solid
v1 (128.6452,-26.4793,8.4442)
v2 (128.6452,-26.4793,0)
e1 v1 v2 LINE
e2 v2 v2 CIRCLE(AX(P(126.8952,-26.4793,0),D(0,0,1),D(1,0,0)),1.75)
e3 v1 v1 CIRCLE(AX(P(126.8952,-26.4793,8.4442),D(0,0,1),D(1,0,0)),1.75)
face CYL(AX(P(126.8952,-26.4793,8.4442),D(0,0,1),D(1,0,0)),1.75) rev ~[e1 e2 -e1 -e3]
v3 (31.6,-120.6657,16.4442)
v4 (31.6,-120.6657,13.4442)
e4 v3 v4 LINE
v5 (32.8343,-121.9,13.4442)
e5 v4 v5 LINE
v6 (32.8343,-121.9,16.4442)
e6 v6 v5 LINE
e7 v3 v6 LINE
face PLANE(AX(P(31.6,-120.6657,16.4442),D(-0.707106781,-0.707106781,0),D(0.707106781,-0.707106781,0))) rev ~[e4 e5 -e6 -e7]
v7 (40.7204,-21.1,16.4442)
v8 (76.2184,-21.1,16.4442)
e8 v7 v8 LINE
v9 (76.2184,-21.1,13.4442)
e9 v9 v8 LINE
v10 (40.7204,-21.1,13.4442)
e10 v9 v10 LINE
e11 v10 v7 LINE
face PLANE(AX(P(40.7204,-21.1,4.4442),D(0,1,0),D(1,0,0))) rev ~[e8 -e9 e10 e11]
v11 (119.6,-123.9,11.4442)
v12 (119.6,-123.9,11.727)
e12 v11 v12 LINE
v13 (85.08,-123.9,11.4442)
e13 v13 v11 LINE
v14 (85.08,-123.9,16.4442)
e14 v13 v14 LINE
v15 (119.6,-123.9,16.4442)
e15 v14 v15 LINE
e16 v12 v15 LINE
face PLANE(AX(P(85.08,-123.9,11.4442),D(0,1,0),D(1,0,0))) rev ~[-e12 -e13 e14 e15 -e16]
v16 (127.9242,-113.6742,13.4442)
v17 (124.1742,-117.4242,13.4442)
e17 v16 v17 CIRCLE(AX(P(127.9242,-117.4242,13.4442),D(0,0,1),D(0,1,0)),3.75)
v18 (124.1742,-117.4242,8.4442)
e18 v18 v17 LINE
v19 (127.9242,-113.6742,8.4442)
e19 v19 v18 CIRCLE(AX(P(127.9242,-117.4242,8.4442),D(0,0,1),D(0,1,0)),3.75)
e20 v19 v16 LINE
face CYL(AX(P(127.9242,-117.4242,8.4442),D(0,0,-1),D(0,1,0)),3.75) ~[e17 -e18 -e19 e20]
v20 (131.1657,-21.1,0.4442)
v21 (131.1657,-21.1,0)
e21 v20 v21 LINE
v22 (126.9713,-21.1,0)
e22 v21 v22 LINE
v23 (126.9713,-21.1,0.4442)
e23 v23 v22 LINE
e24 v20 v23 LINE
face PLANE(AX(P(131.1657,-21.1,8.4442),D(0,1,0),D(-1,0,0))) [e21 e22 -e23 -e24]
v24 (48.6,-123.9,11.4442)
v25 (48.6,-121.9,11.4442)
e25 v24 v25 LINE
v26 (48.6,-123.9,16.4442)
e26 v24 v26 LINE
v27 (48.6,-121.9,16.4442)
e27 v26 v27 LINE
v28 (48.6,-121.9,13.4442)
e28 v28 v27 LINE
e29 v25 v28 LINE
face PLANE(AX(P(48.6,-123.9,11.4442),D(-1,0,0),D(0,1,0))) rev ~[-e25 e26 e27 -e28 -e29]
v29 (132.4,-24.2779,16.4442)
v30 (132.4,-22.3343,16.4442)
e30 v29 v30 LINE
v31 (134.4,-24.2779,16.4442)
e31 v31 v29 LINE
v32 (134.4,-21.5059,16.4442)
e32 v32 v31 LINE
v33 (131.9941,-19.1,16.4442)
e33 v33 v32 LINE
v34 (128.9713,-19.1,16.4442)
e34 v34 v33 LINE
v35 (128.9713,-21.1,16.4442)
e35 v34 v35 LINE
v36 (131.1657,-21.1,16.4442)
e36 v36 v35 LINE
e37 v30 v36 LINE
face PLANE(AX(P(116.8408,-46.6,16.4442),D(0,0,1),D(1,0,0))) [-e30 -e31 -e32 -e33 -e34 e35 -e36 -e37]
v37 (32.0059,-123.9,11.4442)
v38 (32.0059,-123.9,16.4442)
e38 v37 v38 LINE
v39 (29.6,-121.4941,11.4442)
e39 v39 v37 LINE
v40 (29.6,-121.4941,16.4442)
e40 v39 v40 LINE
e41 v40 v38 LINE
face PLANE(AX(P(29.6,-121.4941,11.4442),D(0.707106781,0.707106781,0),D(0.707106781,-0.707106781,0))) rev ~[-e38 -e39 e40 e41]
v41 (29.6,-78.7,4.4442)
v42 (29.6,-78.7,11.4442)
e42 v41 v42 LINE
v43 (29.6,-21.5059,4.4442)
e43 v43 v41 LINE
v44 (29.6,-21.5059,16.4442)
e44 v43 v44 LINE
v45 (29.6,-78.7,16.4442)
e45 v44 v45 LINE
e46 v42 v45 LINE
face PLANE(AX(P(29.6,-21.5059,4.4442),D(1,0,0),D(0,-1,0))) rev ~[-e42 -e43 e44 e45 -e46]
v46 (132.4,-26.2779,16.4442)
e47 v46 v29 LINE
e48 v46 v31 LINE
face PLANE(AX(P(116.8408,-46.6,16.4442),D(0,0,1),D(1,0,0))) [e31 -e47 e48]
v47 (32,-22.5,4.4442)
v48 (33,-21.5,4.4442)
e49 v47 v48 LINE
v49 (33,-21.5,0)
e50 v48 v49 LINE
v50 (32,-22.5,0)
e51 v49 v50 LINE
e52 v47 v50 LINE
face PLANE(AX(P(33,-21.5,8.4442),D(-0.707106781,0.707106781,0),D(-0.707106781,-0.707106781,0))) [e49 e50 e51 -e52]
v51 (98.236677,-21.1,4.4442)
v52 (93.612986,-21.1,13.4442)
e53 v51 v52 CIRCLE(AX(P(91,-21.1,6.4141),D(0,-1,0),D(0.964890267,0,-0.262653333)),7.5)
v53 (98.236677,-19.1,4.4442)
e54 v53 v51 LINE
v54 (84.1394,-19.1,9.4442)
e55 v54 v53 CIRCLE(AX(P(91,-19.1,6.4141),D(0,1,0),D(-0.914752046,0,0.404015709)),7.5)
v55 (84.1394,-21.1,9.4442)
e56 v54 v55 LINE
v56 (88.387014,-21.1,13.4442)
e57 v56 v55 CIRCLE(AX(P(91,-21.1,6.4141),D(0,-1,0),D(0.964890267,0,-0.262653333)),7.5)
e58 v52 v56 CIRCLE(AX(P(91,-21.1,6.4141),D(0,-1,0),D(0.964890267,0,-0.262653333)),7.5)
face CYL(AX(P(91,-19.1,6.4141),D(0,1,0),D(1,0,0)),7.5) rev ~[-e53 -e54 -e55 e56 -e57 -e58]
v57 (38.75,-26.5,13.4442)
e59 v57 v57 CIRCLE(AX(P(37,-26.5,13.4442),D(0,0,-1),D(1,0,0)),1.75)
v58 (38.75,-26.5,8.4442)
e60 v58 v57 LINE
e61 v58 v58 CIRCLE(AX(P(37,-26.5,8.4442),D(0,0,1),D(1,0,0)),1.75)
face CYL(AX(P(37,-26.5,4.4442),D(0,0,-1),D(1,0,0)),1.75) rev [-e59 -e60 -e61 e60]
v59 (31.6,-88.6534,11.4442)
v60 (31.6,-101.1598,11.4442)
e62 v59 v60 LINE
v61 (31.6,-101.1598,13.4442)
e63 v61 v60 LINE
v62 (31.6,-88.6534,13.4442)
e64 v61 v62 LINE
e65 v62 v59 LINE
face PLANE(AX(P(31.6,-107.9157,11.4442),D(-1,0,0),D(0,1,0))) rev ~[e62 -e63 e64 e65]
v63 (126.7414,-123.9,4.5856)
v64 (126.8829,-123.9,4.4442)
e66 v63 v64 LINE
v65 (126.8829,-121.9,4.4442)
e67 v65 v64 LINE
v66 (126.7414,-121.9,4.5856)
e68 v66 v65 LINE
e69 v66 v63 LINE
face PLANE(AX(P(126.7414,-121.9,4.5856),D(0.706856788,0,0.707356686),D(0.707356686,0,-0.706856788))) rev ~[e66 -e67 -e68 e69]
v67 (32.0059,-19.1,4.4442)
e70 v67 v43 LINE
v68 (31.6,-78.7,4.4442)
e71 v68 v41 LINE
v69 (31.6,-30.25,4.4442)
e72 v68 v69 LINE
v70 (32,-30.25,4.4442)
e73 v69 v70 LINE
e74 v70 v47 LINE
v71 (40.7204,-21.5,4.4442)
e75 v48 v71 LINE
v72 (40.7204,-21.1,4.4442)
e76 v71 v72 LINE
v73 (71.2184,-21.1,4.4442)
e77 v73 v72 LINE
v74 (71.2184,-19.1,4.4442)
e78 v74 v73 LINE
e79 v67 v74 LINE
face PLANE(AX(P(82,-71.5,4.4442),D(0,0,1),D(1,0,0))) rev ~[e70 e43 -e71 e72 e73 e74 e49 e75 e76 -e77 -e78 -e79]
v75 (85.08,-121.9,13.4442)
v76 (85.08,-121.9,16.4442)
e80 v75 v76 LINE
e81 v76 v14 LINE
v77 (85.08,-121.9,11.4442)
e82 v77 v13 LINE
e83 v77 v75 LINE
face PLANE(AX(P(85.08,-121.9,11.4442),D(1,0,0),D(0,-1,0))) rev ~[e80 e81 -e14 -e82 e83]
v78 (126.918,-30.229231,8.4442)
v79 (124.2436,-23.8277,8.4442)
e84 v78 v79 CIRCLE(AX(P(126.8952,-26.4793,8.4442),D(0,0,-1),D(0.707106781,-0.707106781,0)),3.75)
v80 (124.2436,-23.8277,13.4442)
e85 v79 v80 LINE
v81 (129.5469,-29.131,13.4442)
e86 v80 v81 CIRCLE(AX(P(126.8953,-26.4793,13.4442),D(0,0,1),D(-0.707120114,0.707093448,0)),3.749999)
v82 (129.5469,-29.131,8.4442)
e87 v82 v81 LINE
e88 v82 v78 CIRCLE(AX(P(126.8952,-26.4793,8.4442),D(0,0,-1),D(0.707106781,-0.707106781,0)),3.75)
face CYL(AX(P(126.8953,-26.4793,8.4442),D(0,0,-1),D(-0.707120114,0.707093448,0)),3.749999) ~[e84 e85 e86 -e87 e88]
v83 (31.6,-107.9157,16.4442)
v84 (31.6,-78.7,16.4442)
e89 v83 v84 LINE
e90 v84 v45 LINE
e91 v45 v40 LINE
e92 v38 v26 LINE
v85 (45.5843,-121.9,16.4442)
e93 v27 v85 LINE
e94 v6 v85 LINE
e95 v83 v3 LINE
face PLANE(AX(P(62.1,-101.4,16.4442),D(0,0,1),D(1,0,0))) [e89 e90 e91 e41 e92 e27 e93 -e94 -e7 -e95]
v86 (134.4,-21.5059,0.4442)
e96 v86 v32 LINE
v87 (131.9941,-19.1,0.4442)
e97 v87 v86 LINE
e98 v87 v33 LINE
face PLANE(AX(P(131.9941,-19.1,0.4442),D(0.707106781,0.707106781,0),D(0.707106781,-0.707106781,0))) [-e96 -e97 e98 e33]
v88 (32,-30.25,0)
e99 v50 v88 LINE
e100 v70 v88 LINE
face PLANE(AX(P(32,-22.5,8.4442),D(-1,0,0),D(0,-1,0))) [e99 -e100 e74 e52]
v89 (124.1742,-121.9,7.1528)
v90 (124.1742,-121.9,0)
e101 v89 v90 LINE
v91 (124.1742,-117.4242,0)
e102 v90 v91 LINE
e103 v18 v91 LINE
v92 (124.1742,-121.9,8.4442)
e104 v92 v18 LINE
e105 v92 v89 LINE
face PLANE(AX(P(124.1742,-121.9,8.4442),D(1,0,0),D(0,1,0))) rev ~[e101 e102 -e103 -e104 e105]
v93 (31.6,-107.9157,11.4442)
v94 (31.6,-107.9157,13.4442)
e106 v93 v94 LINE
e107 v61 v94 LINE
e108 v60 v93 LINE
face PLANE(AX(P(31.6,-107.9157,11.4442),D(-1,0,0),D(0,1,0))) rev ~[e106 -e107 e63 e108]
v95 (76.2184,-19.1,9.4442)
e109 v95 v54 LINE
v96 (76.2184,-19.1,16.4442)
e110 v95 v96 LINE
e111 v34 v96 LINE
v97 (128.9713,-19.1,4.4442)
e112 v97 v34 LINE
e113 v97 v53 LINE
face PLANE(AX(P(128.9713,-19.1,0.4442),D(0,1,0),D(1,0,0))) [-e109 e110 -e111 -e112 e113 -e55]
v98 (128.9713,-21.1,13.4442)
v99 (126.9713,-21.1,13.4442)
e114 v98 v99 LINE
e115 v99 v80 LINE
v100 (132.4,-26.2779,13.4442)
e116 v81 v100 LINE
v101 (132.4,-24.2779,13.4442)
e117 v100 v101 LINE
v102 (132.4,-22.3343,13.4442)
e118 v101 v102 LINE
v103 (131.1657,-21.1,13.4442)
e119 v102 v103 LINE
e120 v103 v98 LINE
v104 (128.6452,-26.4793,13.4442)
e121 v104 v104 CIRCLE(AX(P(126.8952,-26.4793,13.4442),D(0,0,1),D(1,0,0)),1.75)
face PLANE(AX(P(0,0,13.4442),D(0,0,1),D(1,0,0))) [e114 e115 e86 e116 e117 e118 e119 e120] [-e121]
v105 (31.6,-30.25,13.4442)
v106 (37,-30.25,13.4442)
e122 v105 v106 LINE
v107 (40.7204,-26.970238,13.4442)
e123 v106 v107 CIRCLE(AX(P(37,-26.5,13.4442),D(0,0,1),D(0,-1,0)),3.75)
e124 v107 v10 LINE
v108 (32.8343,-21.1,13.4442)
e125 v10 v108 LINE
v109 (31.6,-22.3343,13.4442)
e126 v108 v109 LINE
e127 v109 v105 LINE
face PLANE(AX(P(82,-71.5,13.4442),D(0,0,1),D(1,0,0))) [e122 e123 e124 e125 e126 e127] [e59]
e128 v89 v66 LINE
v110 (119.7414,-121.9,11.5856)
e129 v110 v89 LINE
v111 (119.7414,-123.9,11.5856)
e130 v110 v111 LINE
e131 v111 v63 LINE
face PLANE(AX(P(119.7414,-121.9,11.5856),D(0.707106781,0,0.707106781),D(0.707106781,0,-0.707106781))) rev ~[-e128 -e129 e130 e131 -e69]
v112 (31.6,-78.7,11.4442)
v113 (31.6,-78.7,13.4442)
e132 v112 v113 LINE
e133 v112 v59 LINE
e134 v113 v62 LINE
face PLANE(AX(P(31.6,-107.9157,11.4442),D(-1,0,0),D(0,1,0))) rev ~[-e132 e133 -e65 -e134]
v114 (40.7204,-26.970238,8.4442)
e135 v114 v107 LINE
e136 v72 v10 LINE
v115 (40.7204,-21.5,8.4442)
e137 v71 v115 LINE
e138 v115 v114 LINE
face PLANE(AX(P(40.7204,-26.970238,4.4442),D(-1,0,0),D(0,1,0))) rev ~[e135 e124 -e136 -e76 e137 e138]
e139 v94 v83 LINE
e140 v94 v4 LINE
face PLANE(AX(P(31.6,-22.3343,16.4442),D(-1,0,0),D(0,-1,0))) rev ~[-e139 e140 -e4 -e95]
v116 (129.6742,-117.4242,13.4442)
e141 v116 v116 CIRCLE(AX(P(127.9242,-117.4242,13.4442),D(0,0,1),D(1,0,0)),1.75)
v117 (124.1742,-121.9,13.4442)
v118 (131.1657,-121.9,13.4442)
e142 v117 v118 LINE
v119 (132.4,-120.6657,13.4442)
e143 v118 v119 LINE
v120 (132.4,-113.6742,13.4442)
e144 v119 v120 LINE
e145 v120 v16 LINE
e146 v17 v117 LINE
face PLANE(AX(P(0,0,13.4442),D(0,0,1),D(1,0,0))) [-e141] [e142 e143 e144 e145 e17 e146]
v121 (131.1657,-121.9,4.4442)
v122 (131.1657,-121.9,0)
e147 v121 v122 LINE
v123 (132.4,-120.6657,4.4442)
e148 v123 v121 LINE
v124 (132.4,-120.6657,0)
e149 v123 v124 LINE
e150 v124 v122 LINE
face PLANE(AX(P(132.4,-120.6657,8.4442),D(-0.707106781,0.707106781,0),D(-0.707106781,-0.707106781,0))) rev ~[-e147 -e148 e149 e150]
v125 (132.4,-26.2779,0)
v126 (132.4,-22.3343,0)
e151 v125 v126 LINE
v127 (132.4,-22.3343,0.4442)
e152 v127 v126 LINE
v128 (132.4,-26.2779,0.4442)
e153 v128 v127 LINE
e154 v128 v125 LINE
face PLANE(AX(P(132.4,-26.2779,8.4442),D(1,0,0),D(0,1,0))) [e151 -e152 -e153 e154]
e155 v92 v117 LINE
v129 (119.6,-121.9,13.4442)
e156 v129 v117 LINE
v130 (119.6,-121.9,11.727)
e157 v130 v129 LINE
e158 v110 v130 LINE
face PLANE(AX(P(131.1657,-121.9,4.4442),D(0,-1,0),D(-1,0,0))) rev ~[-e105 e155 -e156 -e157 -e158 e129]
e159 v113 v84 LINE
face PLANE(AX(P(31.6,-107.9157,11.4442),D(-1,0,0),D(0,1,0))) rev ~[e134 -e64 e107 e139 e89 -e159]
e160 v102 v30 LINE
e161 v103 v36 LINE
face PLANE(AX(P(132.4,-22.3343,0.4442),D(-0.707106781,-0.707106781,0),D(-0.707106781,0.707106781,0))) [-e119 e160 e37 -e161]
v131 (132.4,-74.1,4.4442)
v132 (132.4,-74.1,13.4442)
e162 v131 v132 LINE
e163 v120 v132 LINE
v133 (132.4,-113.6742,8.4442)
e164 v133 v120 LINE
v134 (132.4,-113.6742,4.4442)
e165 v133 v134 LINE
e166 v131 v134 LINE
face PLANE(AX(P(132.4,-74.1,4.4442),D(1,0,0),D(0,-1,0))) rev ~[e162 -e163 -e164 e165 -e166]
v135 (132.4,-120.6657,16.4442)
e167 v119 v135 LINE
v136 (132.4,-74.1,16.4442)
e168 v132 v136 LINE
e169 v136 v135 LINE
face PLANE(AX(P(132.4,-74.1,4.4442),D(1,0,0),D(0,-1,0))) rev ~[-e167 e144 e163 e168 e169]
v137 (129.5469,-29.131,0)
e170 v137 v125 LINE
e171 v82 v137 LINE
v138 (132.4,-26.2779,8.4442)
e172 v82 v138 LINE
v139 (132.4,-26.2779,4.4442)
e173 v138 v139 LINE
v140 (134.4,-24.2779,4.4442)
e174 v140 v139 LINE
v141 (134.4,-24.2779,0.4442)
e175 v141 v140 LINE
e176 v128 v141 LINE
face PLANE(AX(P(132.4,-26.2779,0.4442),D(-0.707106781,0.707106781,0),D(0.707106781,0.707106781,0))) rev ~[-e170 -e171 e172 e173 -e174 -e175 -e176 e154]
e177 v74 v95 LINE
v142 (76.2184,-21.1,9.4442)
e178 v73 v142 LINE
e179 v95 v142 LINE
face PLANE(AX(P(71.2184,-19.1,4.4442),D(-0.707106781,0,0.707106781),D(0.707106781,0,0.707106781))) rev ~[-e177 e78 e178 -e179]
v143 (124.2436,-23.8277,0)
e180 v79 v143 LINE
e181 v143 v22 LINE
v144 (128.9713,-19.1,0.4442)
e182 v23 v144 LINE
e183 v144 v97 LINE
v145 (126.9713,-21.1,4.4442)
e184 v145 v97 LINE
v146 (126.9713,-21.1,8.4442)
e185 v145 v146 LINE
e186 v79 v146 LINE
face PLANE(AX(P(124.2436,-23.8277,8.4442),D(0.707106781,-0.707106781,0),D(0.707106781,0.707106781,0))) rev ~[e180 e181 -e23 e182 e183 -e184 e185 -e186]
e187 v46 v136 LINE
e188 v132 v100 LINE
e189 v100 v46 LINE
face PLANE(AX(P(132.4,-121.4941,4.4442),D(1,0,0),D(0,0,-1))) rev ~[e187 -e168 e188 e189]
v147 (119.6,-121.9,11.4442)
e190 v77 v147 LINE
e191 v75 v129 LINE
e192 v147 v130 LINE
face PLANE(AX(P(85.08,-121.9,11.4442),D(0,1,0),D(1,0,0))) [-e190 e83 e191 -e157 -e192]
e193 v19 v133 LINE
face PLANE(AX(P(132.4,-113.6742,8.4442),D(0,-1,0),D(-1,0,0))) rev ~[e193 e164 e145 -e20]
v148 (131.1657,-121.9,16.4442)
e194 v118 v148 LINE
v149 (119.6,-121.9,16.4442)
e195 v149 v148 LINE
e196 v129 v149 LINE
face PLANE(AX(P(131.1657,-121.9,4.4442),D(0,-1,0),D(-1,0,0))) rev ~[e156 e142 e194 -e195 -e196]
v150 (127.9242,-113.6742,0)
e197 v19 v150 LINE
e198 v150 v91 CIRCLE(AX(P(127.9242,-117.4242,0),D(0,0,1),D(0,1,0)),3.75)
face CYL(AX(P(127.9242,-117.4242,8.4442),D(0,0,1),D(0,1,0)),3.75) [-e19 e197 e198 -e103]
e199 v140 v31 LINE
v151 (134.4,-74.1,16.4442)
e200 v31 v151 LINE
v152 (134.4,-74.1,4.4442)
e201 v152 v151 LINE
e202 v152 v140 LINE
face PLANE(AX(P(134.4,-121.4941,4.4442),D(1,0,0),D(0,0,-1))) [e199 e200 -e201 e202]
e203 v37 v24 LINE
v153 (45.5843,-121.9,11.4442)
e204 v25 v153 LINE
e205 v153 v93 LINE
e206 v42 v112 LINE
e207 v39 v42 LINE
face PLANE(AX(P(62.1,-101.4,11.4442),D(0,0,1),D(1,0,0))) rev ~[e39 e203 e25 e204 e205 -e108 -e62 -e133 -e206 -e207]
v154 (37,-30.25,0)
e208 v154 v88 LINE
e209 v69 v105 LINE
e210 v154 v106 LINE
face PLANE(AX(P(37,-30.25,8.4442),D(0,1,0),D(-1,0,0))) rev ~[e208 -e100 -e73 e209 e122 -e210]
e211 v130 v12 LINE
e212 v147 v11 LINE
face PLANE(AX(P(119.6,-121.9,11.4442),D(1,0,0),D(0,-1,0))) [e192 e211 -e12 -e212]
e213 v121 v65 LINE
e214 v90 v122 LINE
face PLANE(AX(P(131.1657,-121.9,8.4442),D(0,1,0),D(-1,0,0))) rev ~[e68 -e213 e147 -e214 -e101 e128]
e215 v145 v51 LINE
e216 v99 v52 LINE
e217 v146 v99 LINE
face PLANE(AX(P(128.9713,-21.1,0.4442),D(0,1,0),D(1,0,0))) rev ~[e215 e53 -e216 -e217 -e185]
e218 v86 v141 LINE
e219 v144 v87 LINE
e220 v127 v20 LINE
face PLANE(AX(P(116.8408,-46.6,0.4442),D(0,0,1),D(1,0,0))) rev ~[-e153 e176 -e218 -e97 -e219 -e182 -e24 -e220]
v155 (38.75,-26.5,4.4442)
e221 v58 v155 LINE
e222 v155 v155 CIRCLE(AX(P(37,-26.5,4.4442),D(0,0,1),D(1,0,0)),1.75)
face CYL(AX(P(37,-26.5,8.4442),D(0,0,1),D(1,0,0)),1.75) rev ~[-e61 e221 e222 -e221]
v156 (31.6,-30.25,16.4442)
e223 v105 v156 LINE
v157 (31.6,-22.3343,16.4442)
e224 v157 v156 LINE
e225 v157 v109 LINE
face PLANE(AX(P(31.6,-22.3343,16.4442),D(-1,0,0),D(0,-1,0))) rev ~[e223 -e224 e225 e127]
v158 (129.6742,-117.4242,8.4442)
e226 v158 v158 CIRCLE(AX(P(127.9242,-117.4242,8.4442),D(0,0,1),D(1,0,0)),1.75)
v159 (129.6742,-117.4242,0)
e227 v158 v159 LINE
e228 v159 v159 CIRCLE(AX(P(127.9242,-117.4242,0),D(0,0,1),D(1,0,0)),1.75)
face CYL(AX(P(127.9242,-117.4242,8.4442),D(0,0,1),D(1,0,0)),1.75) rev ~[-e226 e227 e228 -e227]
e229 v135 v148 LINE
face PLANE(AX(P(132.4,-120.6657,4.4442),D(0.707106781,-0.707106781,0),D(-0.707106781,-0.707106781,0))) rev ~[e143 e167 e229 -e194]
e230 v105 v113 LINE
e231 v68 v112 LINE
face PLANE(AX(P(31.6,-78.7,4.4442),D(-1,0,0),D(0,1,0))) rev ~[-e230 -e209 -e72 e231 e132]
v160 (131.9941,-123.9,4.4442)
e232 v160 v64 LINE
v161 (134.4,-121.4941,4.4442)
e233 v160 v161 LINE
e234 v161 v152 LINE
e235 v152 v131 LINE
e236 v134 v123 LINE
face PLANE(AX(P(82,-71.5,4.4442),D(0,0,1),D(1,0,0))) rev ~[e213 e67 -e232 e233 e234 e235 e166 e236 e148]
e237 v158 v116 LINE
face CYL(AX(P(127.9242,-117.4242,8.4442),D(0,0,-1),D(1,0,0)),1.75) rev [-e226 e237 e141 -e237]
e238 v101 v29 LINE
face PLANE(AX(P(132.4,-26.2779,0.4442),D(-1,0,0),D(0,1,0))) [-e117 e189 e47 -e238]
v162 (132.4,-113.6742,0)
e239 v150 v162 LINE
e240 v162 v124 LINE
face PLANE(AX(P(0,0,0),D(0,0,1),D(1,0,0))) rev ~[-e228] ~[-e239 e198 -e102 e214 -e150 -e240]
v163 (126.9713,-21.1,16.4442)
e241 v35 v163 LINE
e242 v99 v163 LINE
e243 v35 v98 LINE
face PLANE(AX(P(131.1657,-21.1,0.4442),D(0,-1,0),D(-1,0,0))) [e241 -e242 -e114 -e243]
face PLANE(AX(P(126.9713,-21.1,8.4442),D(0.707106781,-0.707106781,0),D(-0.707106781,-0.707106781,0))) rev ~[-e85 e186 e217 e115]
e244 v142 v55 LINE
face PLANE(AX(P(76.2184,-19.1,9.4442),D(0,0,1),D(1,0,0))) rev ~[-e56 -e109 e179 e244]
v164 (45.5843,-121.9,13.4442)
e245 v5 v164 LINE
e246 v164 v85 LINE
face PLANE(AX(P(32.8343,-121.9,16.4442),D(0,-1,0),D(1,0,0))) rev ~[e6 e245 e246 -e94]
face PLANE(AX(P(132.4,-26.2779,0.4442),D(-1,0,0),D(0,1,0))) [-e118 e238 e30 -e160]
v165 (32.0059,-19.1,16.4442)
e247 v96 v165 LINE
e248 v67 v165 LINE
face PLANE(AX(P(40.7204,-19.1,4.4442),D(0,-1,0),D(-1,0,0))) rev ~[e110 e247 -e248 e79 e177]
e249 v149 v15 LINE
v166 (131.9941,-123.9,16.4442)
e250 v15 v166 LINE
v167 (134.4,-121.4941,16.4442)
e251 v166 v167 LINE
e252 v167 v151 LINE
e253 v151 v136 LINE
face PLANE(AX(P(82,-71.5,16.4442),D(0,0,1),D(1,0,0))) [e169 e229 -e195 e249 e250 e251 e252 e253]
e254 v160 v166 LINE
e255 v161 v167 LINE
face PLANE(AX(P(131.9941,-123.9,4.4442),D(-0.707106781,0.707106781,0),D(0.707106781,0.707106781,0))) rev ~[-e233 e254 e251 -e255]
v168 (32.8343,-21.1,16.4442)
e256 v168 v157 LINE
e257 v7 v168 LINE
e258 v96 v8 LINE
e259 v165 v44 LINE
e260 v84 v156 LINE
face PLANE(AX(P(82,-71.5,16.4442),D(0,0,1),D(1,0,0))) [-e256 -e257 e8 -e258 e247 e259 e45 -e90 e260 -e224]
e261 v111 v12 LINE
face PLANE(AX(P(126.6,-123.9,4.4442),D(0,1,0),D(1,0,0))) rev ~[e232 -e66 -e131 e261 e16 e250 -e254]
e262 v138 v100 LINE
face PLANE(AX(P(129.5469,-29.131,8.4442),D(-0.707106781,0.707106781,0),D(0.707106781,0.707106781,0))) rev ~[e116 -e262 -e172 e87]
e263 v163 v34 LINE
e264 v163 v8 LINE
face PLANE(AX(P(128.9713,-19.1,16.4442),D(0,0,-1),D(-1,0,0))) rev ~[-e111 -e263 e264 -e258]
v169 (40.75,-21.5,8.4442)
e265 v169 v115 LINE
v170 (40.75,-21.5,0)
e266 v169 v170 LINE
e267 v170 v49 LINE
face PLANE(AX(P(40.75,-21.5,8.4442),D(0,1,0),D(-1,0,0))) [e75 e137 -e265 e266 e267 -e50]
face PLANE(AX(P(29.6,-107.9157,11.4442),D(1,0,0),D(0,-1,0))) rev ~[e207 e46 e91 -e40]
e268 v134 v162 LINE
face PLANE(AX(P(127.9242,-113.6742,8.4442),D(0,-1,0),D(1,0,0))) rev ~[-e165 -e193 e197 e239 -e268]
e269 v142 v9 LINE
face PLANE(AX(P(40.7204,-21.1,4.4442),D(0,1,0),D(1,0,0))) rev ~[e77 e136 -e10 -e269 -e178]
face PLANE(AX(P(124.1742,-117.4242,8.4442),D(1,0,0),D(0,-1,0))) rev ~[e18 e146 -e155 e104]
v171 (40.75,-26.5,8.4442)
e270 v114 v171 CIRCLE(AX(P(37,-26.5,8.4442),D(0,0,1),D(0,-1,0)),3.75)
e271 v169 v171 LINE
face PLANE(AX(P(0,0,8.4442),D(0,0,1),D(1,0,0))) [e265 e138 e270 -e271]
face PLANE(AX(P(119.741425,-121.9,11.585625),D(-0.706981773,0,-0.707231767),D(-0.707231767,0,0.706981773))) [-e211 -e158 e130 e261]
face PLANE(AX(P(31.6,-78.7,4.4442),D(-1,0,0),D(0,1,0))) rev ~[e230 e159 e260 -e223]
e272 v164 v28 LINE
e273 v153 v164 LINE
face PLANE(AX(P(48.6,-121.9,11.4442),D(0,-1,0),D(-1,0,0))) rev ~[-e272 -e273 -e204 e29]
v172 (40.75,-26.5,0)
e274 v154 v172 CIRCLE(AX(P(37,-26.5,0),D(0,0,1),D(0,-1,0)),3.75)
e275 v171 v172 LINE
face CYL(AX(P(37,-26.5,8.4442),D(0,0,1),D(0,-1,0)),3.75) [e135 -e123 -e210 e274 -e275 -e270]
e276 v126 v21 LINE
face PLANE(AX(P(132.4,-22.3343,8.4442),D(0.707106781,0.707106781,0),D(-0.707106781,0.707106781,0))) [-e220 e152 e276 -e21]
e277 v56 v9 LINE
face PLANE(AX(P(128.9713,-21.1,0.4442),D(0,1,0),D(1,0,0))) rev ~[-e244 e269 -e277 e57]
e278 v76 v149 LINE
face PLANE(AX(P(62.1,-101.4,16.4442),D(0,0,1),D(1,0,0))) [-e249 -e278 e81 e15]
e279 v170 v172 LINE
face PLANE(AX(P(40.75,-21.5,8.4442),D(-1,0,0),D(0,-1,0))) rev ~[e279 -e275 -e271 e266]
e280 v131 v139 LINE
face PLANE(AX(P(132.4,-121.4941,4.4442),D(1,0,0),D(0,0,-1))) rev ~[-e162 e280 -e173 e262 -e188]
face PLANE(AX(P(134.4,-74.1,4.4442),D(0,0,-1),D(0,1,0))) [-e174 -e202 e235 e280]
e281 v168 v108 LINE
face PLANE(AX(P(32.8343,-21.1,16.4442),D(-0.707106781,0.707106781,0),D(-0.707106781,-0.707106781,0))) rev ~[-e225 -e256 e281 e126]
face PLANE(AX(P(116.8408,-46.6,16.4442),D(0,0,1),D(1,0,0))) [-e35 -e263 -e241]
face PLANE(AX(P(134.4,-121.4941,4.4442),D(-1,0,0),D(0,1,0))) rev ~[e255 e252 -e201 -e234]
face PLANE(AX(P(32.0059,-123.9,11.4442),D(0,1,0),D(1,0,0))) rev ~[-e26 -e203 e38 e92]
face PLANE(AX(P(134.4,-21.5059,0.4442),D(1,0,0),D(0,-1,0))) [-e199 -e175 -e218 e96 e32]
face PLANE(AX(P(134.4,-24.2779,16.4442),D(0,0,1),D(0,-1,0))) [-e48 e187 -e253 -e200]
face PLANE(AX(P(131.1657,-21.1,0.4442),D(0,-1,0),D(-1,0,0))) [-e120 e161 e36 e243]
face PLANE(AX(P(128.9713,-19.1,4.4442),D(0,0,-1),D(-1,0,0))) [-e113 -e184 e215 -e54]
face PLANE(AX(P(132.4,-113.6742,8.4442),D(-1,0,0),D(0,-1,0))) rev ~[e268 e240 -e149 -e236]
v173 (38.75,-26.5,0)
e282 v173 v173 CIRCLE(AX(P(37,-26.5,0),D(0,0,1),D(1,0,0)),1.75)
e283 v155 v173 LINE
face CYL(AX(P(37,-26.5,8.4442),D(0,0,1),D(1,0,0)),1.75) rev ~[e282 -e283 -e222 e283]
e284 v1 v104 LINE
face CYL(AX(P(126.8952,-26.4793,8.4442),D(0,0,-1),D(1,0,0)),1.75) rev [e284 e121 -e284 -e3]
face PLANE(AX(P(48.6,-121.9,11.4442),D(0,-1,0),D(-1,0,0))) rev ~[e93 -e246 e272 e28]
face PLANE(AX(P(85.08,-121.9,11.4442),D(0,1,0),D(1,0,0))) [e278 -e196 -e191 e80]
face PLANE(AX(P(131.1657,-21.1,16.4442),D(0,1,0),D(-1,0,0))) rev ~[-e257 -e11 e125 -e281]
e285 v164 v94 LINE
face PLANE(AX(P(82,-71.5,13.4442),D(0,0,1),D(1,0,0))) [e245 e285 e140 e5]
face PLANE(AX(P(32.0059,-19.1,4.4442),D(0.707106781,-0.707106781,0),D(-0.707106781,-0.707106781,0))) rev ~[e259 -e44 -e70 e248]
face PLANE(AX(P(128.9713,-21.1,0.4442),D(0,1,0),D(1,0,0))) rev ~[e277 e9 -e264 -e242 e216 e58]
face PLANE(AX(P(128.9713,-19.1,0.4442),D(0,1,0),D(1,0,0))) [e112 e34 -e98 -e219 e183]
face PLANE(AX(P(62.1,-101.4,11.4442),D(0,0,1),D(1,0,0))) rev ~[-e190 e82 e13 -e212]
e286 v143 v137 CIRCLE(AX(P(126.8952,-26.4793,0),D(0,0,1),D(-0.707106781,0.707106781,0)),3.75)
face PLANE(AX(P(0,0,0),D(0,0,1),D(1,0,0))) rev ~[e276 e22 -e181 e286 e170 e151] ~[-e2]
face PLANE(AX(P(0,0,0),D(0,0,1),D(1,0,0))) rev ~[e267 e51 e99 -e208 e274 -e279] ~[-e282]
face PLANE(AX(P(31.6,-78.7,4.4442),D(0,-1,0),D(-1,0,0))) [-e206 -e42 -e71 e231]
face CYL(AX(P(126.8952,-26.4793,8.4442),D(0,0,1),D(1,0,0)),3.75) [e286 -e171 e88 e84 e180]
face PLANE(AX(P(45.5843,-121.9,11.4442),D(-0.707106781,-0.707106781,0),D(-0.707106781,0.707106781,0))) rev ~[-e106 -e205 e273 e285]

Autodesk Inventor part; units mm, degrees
ref_plane "YZ Plane" through (0, 0, 0) normal (1, 0, 0) x (0, 1, 0)
ref_plane "Work Plane1" through (0, 0, 8.4442) normal (0, 0, 1) x (1, 0, 0)
sketch "Sketch1" plane through (0, 0, 8.4442) normal (0, 0, 1) x (1, 0, 0)
  circle A0 centre (126.8952, -26.4793) radius 1.25 projected
  circle A1 centre (37, -26.5) radius 1.25 projected
  circle A2 centre (35.375, -94.25) radius 1.25 projected
  line L0 (132.4, -74.1) -> (132.4, -22.3343) projected
  line L1 (95.5398, -21.1) -> (95.5398, -19.1) projected
  line L2 (131.1657, -21.1) -> (95.5398, -21.1) projected
  line L3 (132.4, -22.3343) -> (131.1657, -21.1) projected
  line L4 (54.6, -116.9) -> (48.6, -116.9) projected
  line L5 (48.6, -116.9) -> (48.6, -121.9) projected
  line L6 (48.6, -121.9) -> (45.5843, -121.9) projected
  line L7 (45.5843, -121.9) -> (31.6, -107.9157) projected
  line L8 (31.6, -107.9157) -> (31.6, -78.9) projected
  line L9 (119.6, -121.9) -> (119.6, -123.9) projected
  line L10 (85.08, -121.9) -> (119.6, -121.9) projected
  line L11 (85.08, -121.9) -> (85.08, -95.9) projected
  line L12 (85.08, -95.9) -> (79.08, -95.9) projected
  line L13 (79.08, -95.9) -> (79.08, -121.9) projected
  line L14 (79.08, -121.9) -> (54.6, -121.9) projected
  line L15 (54.6, -121.9) -> (54.6, -116.9) projected
  circle A3 centre (82.08, -120.16) radius 1.4 projected
  circle A4 centre (51.6, -120.16) radius 1.4 projected
  circle A5 centre (82.08, -98.9) radius 1.4 projected
  line L16 (31.6, -78.9) -> (31.6, -22.3343) projected
  line L17 (31.6, -22.3343) -> (32.8343, -21.1) projected
  line L18 (32.8343, -21.1) -> (40.7204, -21.1) projected
  line L19 (40.7204, -21.1) -> (40.7204, -19.1) projected
  line L20 (126.6, -121.9) -> (126.6, -123.9) projected
  line L21 (126.6, -123.9) -> (131.9941, -123.9) projected
  line L22 (132.4, -74.1) -> (132.4, -120.6657) projected
  line L23 (132.4, -120.6657) -> (131.1657, -121.9) projected
  line L24 (131.1657, -121.9) -> (126.6, -121.9) projected
  line L25 (119.6, -123.9) -> (126.6, -123.9) projected
  line L26 (126.6, -121.9) -> (126.6, -123.9) projected
  line L27 (119.6, -121.9) -> (126.6, -121.9) projected
  line L28 (119.6, -121.9) -> (119.6, -123.9) projected
  circle A6 centre (127.9242, -117.4242) radius 1.25 projected
  line L29 (41.1204, -19.1) -> (41.1204, -21.5)
  line L30 (41.1204, -21.5) -> (33, -21.5)
  line L31 (33, -21.5) -> (32, -22.5)
  line L32 (32, -22.5) -> (32, -78.9)
  line L33 (32, -78.9) -> (32, -107.75)
  line L34 (32, -107.75) -> (45.75, -121.5)
  line L35 (45.75, -121.5) -> (48.2, -121.5)
  line L36 (48.2, -121.5) -> (48.2, -116.5)
  line L37 (48.2, -116.5) -> (55, -116.5)
  line L38 (55, -116.5) -> (55, -121.5)
  line L39 (55, -121.5) -> (78.68, -121.5)
  line L40 (78.68, -121.5) -> (78.68, -95.5)
  line L41 (78.68, -95.5) -> (85.48, -95.5)
  line L42 (85.48, -95.5) -> (85.48, -121.5)
  line L43 (85.48, -121.5) -> (119.6, -121.5)
  line L44 (37, -30.25) -> (31.6, -30.25) projected
  arc A7 (37, -30.25) -> (40.75, -26.5) centre (37, -26.5) ccw projected
  line L45 (40.75, -21.1) -> (40.75, -26.5) projected
  line L46 (123.1452, -26.4793) -> (123.1452, -21.1) projected
  arc A8 (123.1452, -26.4793) -> (126.8952, -30.2293) centre (126.8952, -26.4793) ccw projected
  line L47 (132.4, -30.2293) -> (126.8952, -30.2293) projected
  line L48 (127.9242, -113.6742) -> (132.4, -113.6742) projected
  arc A9 (127.9242, -113.6742) -> (124.1742, -117.4242) centre (127.9242, -117.4242) ccw projected
  line L49 (124.1742, -121.9) -> (124.1742, -117.4242) projected
  line L50 (31.6, -90.5) -> (35.375, -90.5) projected
  arc A10 (35.375, -98) -> (35.375, -90.5) centre (35.375, -94.25) ccw projected
  line L51 (35.375, -98) -> (31.6, -98) projected
  circle A11 centre (37, -26.5) radius 1.75
  circle A12 centre (35.375, -94.25) radius 1.75
  circle A13 centre (127.9242, -117.4242) radius 1.75
  circle A14 centre (126.8952, -26.4793) radius 1.75
  circle A15 centre (126.8952, -26.4793) radius 3.75
  line L52 (129.5469, -29.131) -> (132.4, -26.2779)
  line L53 (124.2436, -23.8277) -> (126.9713, -21.1)
  point P0 (0, 0)
  point P1 (32, -30.25)
  point P2 (40.75, -21.5)
  point P3 (32, -90.5)
  point P4 (32, -98)
  dimension "d0" = 0.4
  dimension "d1" = 3.5
  dimension "d2" = 3.5
  dimension "d3" = 3.5
  dimension "d4" = 3.5
  dimension "d9" = 45
  dimension "d10" = 45
ref_plane "Work Plane2" through (32, -121.5, 0) normal (0, 0, 1) x (1, 0, 0)
extrude "Extrusion1" add sketch "Sketch1" against normal up to surface (8.4442 mm away) contours L32 L31 L30 L45 A7 L44 | L22 L23 L24 L27 L49 A9 L48 | L52 A15 L53 L2 L3 L0 | A8 A15 | L33 L50 A10 L51
ref_plane "Work Plane3" through (82, -71.5, 4.4442) normal (0, 0, 1) x (1, 0, 0)
sketch "Sketch2" plane through (82, -71.5, 4.4442) normal (0, 0, 1) x (1, 0, 0)
  line L0 (44.6, -50.4) -> (44.6, -52.4) projected
  line L1 (44.6, -52.4) -> (49.9941, -52.4) projected
  line L2 (49.9941, -52.4) -> (52.4, -49.9941) projected
  line L3 (52.4, -49.9941) -> (52.4, -2.6) projected
  line L4 (52.4, -2.6) -> (50.4, -2.6) projected
  line L5 (50.4, -2.6) -> (50.4, -49.1657) projected
  line L6 (50.4, -49.1657) -> (49.1657, -50.4) projected
  line L7 (49.1657, -50.4) -> (44.6, -50.4) projected
  line L8 (37.6, -52.4) -> (44.6, -52.4) projected
  line L9 (44.6, -50.4) -> (44.6, -52.4) projected
  line L10 (37.6, -50.4) -> (44.6, -50.4) projected
  line L11 (37.6, -50.4) -> (37.6, -52.4) projected
  point P0 (-82, 71.5)
extrude "Extrusion2" add sketch "Sketch2" along normal blind 12
ref_plane "Work Plane4" through (116.8408, -46.6, 0.4442) normal (0, 0, 1) x (1, 0, 0)
sketch "Sketch3" plane through (116.8408, -46.6, 0.4442) normal (0, 0, 1) x (1, 0, 0)
  point P0 (-116.8408, 46.6)
ref_plane "Work Plane5" through (116.8408, -46.6, 0.4442) normal (0, 0, 1) x (1, 0, 0)
sketch "Sketch4" plane through (116.8408, -46.6, 0.4442) normal (0, 0, 1) x (1, 0, 0)
  line L0 (15.5592, -27.5) -> (15.5592, 24.2657) projected
  line L1 (17.5592, -27.5) -> (15.5592, -27.5) projected
  line L2 (17.5592, 25.0941) -> (17.5592, -27.5) projected
  line L3 (15.1533, 27.5) -> (17.5592, 25.0941) projected
  line L4 (-21.301, 27.5) -> (15.1533, 27.5) projected
  line L5 (-21.301, 25.5) -> (-21.301, 27.5) projected
  line L6 (14.3249, 25.5) -> (-21.301, 25.5) projected
  line L7 (15.5592, 24.2657) -> (14.3249, 25.5) projected
  line L8 (12.7061, 17.469) -> (15.5592, 20.3221) projected
  line L9 (15.5592, 20.3221) -> (17.5592, 22.3221)
  line L10 (10.1305, 25.5) -> (7.4028, 22.7723) projected
  line L11 (10.1305, 25.5) -> (12.1305, 27.5)
  point P0 (-116.8408, 46.6)
extrude "Extrusion3" add sketch "Sketch4" along normal up to surface (16 mm away) contours L0 L7 L6 L11 L4 L3 L2 L9
ref_plane "Work Plane6" through (82, -71.5, 4.4442) normal (0, 0, 1) x (1, 0, 0)
sketch "Sketch5" plane through (82, -71.5, 4.4442) normal (0, 0, 1) x (1, 0, 0)
  line L0 (-50.4, -7.4) -> (-52.4, -7.4) projected
  line L1 (-52.4, -7.4) -> (-50.4, -7.4) projected
  line L2 (-50.4, -7.4) -> (-50.4, 49.1657) projected
  line L3 (-50.4, 49.1657) -> (-49.1657, 50.4) projected
  line L4 (-49.1657, 50.4) -> (-41.2796, 50.4) projected
  line L5 (-41.2796, 50.4) -> (-41.2796, 52.4) projected
  line L6 (-41.2796, 52.4) -> (-49.9941, 52.4) projected
  line L7 (-49.9941, 52.4) -> (-52.4, 49.9941) projected
  line L8 (-52.4, 49.9941) -> (-52.4, -7.4) projected
  line L9 (-50.4, -7.2) -> (-52.4, -7.2)
  line L10 (-27.5075, 50.4) -> (-27.5075, 52.4) projected
  line L11 (-27.5075, 52.4) -> (-29.5996, 52.4) projected
  line L12 (-29.5996, 50.4) -> (-29.5996, 52.4) projected
  line L13 (-29.5996, 50.4) -> (-27.5075, 50.4) projected
  line L14 (-10.7816, 50.4) -> (-10.7816, 52.4) projected
  line L15 (-10.7816, 52.4) -> (-12.2675, 52.4) projected
  line L16 (-12.2675, 50.4) -> (-12.2675, 52.4) projected
  line L17 (-12.2675, 50.4) -> (-10.7816, 50.4) projected
  line L18 (-5.7816, 52.4) -> (-5.7816, 50.4) projected
  line L19 (-5.7816, 52.4) -> (-41.2796, 52.4)
  line L20 (-41.2796, 52.4) -> (-41.2796, 50.4)
  line L21 (-41.2796, 50.4) -> (-5.7816, 50.4)
  line L22 (-5.7816, 50.4) -> (-5.7816, 52.4)
  line L23 (-41.2796, 50.4) -> (-50.4, 50.4)
  line L24 (-50.4, 50.4) -> (-50.4, 41.25)
  line L25 (-50.4, 41.25) -> (-41.2796, 41.25)
  line L26 (-41.2796, 41.25) -> (-41.2796, 50.4)
  arc A0 (-45, 41.25) -> (-41.25, 45) centre (-45, 45) ccw projected
  circle A1 centre (-45, 45) radius 1.75 projected
  point P0 (-82, 71.5)
  point P1 (-51.4, -7.2)
  point P2 (-50, 41.25)
  point P3 (-41.2796, 44.5297)
  dimension "d13" = 0.2
extrude "Extrusion4" add sketch "Sketch5" along normal up to surface (12 mm away) contours L9 L8 L7 L6 L5 L4 L23 L24 L2 | L2 L3 L4 L26 A0 L25 | L24 L23 L3 | L19 L12 L21 L5 | L11 L10 L13 L12 | L19 L16 L21 L10 | L15 L14 L17 L16 | L19 L18 L21 L14
sketch "Sketch6" plane through (124.1742, -121.9, 8.4442) normal (0, 1, 0) x (1, 0, 0)
  line L0 (-4.5742, -3) -> (2.4258, 4) projected
  line L1 (-4.5742, 4) -> (-4.5742, -8) projected
  line L2 (0, 4) -> (-4.5742, 4) projected
  line L3 (-4.4328, -3.1414) -> (2.5672, 3.8586)
  line L4 (-4.2913, -3) -> (-4.5742, -3.2828)
  line L5 (2.5672, 3.8586) -> (2.7087, 4)
  line L6 (6.9915, 4) -> (0, 4) projected
  point P0 (-124.1742, 8.4442)
  point P1 (-4.4328, -3.1414)
  dimension "d16" = 0.2
extrude "Extrusion5" cut sketch "Sketch6" against normal blind 10
sketch "Sketch7" plane through (128.9713, -19.1, 0.4442) normal (0, 1, 0) x (1, 0, 0)
  arc A0 (-33.4314, 0) -> (-44.8319, -9) centre (-37.9713, -5.9699) ccw projected
  line L0 (-52.7529, -9) -> (-44.8319, -9) projected
  line L1 (0, 0) -> (0, -16) projected
  line L2 (-52.7529, -9) -> (0, -9)
  line L3 (0, -9) -> (0, -16)
  line L4 (0, -16) -> (-52.7529, -16)
  line L5 (-52.7529, -16) -> (-52.7529, -9)
  circle A1 centre (-37.9713, -5.9699) radius 7.5
  line L6 (5.4287, -4) -> (3.4287, -4) projected
  line L7 (3.4287, -4) -> (-52.7529, -4)
  line L8 (-52.7529, -4) -> (-52.7529, -16)
  line L9 (-52.7529, -16) -> (3.4287, -16)
  line L10 (3.4287, -16) -> (3.4287, -4)
  line L11 (3.0228, 0) -> (3.0228, -16) projected
  point P0 (-128.9713, 0.4442)
  point P1 (-31.1106, -9)
  point P2 (-45.2079, -4)
  point P3 (0, -4)
  point P4 (-30.7346, -4)
extrude "Extrusion6" add sketch "Sketch7" against normal up to surface (2 mm away) contours L7 L1 L2 A1 | A1 L2 L1 L4 L5 L0
sketch "Sketch8" plane through (128.9713, -19.1, 0.4442) normal (0, 1, 0) x (1, 0, 0)
  line L0 (-57.7529, -4) -> (-52.7529, -9) projected
  line L1 (-52.7529, -4) -> (-52.7529, -9) projected
  line L2 (-52.7529, -4) -> (-96.9654, -4) projected
  point P0 (-128.9713, 0.4442)
extrude "Extrusion7" cut sketch "Sketch8" against normal up to surface (2 mm away)
sketch "Sketch9" plane through (134.4, -121.4941, 4.4442) normal (1, 0, 0) x (0, 0, -1)
  line L0 (0, 47.3941) -> (-12, 47.3941) projected
  line L1 (4, 97.2162) -> (-12, 97.2162) projected
  line L2 (-12, 47.3941) -> (0, 47.3941)
  line L3 (0, 47.3941) -> (0, 97.2162)
  line L4 (0, 97.2162) -> (-12, 97.2162)
  line L5 (-12, 97.2162) -> (-12, 47.3941)
  point P0 (4.4442, 121.4941)
extrude "Extrusion8" add sketch "Sketch9" against normal up to surface (2 mm away)
ref_plane "Work Plane7" through (62.1, -101.4, 11.4442) normal (0, 0, 1) x (1, 0, 0)
sketch "Sketch10" plane through (62.1, -101.4, 11.4442) normal (0, 0, 1) x (1, 0, 0)
  line L0 (-7.5, -15.5) -> (-13.5, -15.5) projected
  line L1 (-13.5, -15.5) -> (-13.5, -20.5) projected
  line L2 (-13.5, -20.5) -> (-16.5157, -20.5) projected
  line L3 (-16.5157, -20.5) -> (-30.5, -6.5157) projected
  line L4 (-30.5, -6.5157) -> (-30.5, 22.5) projected
  line L5 (-30.5, 22.5) -> (-32.5, 22.5) projected
  line L6 (-32.5, 22.5) -> (-32.5, -20.0941) projected
  line L7 (-32.5, -20.0941) -> (-30.0941, -22.5) projected
  line L8 (-30.0941, -22.5) -> (57.5, -22.5) projected
  line L9 (57.5, -20.5) -> (57.5, -22.5) projected
  line L10 (22.98, -20.5) -> (57.5, -20.5) projected
  line L11 (22.98, -20.5) -> (22.98, 5.5) projected
  line L12 (22.98, 5.5) -> (16.98, 5.5) projected
  line L13 (16.98, 5.5) -> (16.98, -20.5) projected
  line L14 (16.98, -20.5) -> (-7.5, -20.5) projected
  line L15 (-7.5, -20.5) -> (-7.5, -15.5) projected
  circle A0 centre (19.98, -18.76) radius 1.4 projected
  circle A1 centre (-10.5, -18.76) radius 1.4 projected
  circle A2 centre (19.98, 2.5) radius 1.4 projected
  line L16 (57.5, -20.5) -> (22.98, -20.5)
  line L17 (22.98, -20.5) -> (22.98, -22.5)
  line L18 (22.98, -22.5) -> (57.5, -22.5)
  line L19 (57.5, -22.5) -> (57.5, -20.5)
  line L20 (-32.5, 22.7) -> (-30.5, 22.7) projected
  line L21 (-32.5, 22.7) -> (-30.5, 22.7)
  line L22 (-30.5, 22.7) -> (-30.5, -6.5157)
  line L23 (-30.5, -6.5157) -> (-32.5, -6.5157)
  line L24 (-32.5, -6.5157) -> (-32.5, 22.7)
  line L25 (-13.5, -20.5) -> (22.98, -20.5)
  line L26 (22.98, -20.5) -> (22.98, -22.5)
  line L27 (22.98, -22.5) -> (-13.5, -22.5)
  line L28 (-13.5, -22.5) -> (-13.5, -20.5)
  point P0 (-62.1, 101.4)
extrude "Extrusion9" add sketch "Sketch10" along normal up to surface (5 mm away) contours L28 L8 L7 L6 L23 L3 L2 | L10 L9 L8 L17 | L23 L6 L5 L4 | L5 L24 L20 L22
sketch "Sketch11" plane through (82, -71.5, 16.4442) normal (0, 0, 1) x (1, 0, 0)
  line L0 (-49.9941, -52.4) -> (-52.4, -49.9941) projected
  line L1 (-33.4, -52.4) -> (-49.9941, -52.4) projected
  line L2 (-52.4, -49.9941) -> (-52.4, 49.9941) projected
  line L3 (-52.4, 49.9941) -> (-49.9941, 52.4) projected
  line L4 (-49.9941, 52.4) -> (49.9941, 52.4) projected
  line L5 (49.9941, 52.4) -> (52.4, 49.9941) projected
  line L6 (52.4, -49.9941) -> (52.4, 49.9941) projected
  line L7 (49.9941, -52.4) -> (52.4, -49.9941) projected
  line L8 (49.9941, -52.4) -> (3.08, -52.4) projected
  line L9 (3.08, -50.4) -> (49.1657, -50.4)
  line L10 (49.1657, -50.4) -> (50.4, -49.1657)
  line L11 (50.4, -49.1657) -> (50.4, 49.1657)
  line L12 (50.4, 49.1657) -> (49.1657, 50.4)
  line L13 (49.1657, 50.4) -> (-49.1657, 50.4)
  line L14 (-49.1657, 50.4) -> (-50.4, 49.1657)
  line L15 (-50.4, 49.1657) -> (-50.4, -49.1657)
  line L16 (-50.4, -49.1657) -> (-49.1657, -50.4)
  line L17 (-49.1657, -50.4) -> (-33.4, -50.4)
  line L18 (3.08, -50.4) -> (-33.4, -50.4)
  point P0 (-82, 71.5)
  dimension "d27" = 2
extrude "Extrusion10" cut sketch "Sketch11" against normal blind 3
sketch "Sketch12" plane through (0, 0, 8.4442) normal (0, 0, 1) x (1, 0, 0)
  line L0 (35.375, -90.5) -> (32, -90.5) projected
  line L1 (32, -90.5) -> (32, -98) projected
  line L2 (32, -98) -> (35.375, -98) projected
  arc A0 (35.375, -98) -> (35.375, -90.5) centre (35.375, -94.25) ccw projected
  circle A1 centre (35.375, -94.25) radius 1.75 projected
  line L3 (39.1, -90.75) -> (31.6, -90.75) projected
  line L4 (31.6, -90.75) -> (31.6, -120.6657) projected
  line L5 (31.6, -120.6657) -> (32.8343, -121.9) projected
  line L6 (32.8343, -121.9) -> (48.6, -121.9) projected
  line L7 (48.6, -121.9) -> (48.6, -117.0555) projected
  line L8 (48.6, -95.9) -> (91.08, -95.9) projected
  line L9 (91.08, -121.9) -> (131.1657, -121.9) projected
  line L10 (131.1657, -121.9) -> (132.4, -120.6657) projected
  line L11 (132.4, -120.6657) -> (132.4, -22.3343) projected
  line L12 (132.4, -22.3343) -> (131.1657, -21.1) projected
  line L13 (131.1657, -21.1) -> (32.8343, -21.1) projected
  line L14 (32.8343, -21.1) -> (31.6, -22.3343) projected
  line L15 (31.6, -22.3343) -> (31.6, -43.25) projected
  line L16 (31.6, -43.25) -> (39.1, -43.25) projected
  line L17 (39.1, -43.25) -> (39.1, -90.75) projected
  circle A2 centre (127.9242, -117.4242) radius 1.75 projected
  circle A3 centre (126.8952, -26.4793) radius 1.75 projected
  line L18 (39.1, -90.75) -> (31.6, -90.75) projected
  line L19 (31.6, -90.75) -> (31.6, -120.6657) projected
  line L20 (31.6, -120.6657) -> (32.8343, -121.9) projected
  line L21 (32.8343, -121.9) -> (48.6, -121.9) projected
  line L22 (48.6, -121.9) -> (48.6, -117.0555) projected
  line L23 (48.6, -95.9) -> (91.08, -95.9) projected
  line L24 (91.08, -121.9) -> (131.1657, -121.9) projected
  line L25 (131.1657, -121.9) -> (132.4, -120.6657) projected
  line L26 (132.4, -120.6657) -> (132.4, -22.3343) projected
  line L27 (132.4, -22.3343) -> (131.1657, -21.1) projected
  line L28 (131.1657, -21.1) -> (32.8343, -21.1) projected
  line L29 (32.8343, -21.1) -> (31.6, -22.3343) projected
  line L30 (31.6, -22.3343) -> (31.6, -43.25) projected
  line L31 (31.6, -43.25) -> (39.1, -43.25) projected
  line L32 (39.1, -43.25) -> (39.1, -90.75) projected
  circle A4 centre (127.9242, -117.4242) radius 1.75 projected
  circle A5 centre (126.8952, -26.4793) radius 1.75 projected
  arc A6 (124.2436, -23.8277) -> (129.5469, -29.131) centre (126.8952, -26.4793) ccw projected
  line L33 (129.5469, -29.131) -> (132.4, -26.2779) projected
  line L34 (126.9713, -21.1) -> (124.2436, -23.8277) projected
  line L35 (124.1742, -117.4242) -> (124.1742, -121.9) projected
  arc A7 (127.9242, -113.6742) -> (124.1742, -117.4242) centre (127.9242, -117.4242) ccw projected
  line L36 (132.4, -113.6742) -> (127.9242, -113.6742) projected
  line L37 (124.1742, -121.9) -> (131.1657, -121.9) projected
  line L38 (131.1657, -121.9) -> (132.4, -120.6657) projected
  line L39 (132.4, -120.6657) -> (132.4, -113.6742) projected
  line L40 (47.8517, -103.0555) -> (48.6, -103.0555) projected
  line L41 (48.6, -103.0555) -> (48.6, -95.9) projected
  line L42 (48.6, -117.0555) -> (47.8517, -117.0555) projected
  line L43 (47.8517, -117.0555) -> (47.8517, -103.0555) projected
  line L44 (47.8517, -103.0555) -> (48.6, -103.0555) projected
  line L45 (48.6, -103.0555) -> (48.6, -95.9) projected
  line L46 (48.6, -117.0555) -> (47.8517, -117.0555) projected
  line L47 (47.8517, -117.0555) -> (47.8517, -103.0555) projected
  line L48 (91.08, -95.9) -> (91.08, -121.9) projected
  line L49 (91.08, -95.9) -> (91.08, -121.9) projected
  point P0 (0, 0)
  point P1 (85.08, -95.9)
  point P2 (85.08, -121.9)
ref_plane "Work Plane8" through (31.6, -121.9, 13.4442) normal (0, 0, -1) x (0, 1, 0)
extrude "Extrusion11" add sketch "Sketch12" along normal up to surface (5 mm away) contours A0 L3 L1 L0 | A0 L2 L1 L3 | L13 L12 L11 L33 A6 L34 | L11 L10 L9 L35 A7 L36
sketch "Sketch13" plane through (32, -98, 13.4442) normal (0, 0, 1) x (1, 0, 0)
  line L0 (8.6884, -3.1598) -> (-0.4, -3.1598)
  line L1 (-0.4, -3.1598) -> (-0.4, 9.3466)
  line L2 (-0.4, 9.3466) -> (8.6884, 9.3466)
  line L3 (8.6884, 9.3466) -> (8.6884, -3.1598)
  line L4 (-0.4, -22.6657) -> (-0.4, 75.6657) projected
  point P0 (-32, 98)
extrude "Extrusion12" cut sketch "Sketch13" against normal up to surface (13.4442 mm away)
properties part number "Lid_1"
